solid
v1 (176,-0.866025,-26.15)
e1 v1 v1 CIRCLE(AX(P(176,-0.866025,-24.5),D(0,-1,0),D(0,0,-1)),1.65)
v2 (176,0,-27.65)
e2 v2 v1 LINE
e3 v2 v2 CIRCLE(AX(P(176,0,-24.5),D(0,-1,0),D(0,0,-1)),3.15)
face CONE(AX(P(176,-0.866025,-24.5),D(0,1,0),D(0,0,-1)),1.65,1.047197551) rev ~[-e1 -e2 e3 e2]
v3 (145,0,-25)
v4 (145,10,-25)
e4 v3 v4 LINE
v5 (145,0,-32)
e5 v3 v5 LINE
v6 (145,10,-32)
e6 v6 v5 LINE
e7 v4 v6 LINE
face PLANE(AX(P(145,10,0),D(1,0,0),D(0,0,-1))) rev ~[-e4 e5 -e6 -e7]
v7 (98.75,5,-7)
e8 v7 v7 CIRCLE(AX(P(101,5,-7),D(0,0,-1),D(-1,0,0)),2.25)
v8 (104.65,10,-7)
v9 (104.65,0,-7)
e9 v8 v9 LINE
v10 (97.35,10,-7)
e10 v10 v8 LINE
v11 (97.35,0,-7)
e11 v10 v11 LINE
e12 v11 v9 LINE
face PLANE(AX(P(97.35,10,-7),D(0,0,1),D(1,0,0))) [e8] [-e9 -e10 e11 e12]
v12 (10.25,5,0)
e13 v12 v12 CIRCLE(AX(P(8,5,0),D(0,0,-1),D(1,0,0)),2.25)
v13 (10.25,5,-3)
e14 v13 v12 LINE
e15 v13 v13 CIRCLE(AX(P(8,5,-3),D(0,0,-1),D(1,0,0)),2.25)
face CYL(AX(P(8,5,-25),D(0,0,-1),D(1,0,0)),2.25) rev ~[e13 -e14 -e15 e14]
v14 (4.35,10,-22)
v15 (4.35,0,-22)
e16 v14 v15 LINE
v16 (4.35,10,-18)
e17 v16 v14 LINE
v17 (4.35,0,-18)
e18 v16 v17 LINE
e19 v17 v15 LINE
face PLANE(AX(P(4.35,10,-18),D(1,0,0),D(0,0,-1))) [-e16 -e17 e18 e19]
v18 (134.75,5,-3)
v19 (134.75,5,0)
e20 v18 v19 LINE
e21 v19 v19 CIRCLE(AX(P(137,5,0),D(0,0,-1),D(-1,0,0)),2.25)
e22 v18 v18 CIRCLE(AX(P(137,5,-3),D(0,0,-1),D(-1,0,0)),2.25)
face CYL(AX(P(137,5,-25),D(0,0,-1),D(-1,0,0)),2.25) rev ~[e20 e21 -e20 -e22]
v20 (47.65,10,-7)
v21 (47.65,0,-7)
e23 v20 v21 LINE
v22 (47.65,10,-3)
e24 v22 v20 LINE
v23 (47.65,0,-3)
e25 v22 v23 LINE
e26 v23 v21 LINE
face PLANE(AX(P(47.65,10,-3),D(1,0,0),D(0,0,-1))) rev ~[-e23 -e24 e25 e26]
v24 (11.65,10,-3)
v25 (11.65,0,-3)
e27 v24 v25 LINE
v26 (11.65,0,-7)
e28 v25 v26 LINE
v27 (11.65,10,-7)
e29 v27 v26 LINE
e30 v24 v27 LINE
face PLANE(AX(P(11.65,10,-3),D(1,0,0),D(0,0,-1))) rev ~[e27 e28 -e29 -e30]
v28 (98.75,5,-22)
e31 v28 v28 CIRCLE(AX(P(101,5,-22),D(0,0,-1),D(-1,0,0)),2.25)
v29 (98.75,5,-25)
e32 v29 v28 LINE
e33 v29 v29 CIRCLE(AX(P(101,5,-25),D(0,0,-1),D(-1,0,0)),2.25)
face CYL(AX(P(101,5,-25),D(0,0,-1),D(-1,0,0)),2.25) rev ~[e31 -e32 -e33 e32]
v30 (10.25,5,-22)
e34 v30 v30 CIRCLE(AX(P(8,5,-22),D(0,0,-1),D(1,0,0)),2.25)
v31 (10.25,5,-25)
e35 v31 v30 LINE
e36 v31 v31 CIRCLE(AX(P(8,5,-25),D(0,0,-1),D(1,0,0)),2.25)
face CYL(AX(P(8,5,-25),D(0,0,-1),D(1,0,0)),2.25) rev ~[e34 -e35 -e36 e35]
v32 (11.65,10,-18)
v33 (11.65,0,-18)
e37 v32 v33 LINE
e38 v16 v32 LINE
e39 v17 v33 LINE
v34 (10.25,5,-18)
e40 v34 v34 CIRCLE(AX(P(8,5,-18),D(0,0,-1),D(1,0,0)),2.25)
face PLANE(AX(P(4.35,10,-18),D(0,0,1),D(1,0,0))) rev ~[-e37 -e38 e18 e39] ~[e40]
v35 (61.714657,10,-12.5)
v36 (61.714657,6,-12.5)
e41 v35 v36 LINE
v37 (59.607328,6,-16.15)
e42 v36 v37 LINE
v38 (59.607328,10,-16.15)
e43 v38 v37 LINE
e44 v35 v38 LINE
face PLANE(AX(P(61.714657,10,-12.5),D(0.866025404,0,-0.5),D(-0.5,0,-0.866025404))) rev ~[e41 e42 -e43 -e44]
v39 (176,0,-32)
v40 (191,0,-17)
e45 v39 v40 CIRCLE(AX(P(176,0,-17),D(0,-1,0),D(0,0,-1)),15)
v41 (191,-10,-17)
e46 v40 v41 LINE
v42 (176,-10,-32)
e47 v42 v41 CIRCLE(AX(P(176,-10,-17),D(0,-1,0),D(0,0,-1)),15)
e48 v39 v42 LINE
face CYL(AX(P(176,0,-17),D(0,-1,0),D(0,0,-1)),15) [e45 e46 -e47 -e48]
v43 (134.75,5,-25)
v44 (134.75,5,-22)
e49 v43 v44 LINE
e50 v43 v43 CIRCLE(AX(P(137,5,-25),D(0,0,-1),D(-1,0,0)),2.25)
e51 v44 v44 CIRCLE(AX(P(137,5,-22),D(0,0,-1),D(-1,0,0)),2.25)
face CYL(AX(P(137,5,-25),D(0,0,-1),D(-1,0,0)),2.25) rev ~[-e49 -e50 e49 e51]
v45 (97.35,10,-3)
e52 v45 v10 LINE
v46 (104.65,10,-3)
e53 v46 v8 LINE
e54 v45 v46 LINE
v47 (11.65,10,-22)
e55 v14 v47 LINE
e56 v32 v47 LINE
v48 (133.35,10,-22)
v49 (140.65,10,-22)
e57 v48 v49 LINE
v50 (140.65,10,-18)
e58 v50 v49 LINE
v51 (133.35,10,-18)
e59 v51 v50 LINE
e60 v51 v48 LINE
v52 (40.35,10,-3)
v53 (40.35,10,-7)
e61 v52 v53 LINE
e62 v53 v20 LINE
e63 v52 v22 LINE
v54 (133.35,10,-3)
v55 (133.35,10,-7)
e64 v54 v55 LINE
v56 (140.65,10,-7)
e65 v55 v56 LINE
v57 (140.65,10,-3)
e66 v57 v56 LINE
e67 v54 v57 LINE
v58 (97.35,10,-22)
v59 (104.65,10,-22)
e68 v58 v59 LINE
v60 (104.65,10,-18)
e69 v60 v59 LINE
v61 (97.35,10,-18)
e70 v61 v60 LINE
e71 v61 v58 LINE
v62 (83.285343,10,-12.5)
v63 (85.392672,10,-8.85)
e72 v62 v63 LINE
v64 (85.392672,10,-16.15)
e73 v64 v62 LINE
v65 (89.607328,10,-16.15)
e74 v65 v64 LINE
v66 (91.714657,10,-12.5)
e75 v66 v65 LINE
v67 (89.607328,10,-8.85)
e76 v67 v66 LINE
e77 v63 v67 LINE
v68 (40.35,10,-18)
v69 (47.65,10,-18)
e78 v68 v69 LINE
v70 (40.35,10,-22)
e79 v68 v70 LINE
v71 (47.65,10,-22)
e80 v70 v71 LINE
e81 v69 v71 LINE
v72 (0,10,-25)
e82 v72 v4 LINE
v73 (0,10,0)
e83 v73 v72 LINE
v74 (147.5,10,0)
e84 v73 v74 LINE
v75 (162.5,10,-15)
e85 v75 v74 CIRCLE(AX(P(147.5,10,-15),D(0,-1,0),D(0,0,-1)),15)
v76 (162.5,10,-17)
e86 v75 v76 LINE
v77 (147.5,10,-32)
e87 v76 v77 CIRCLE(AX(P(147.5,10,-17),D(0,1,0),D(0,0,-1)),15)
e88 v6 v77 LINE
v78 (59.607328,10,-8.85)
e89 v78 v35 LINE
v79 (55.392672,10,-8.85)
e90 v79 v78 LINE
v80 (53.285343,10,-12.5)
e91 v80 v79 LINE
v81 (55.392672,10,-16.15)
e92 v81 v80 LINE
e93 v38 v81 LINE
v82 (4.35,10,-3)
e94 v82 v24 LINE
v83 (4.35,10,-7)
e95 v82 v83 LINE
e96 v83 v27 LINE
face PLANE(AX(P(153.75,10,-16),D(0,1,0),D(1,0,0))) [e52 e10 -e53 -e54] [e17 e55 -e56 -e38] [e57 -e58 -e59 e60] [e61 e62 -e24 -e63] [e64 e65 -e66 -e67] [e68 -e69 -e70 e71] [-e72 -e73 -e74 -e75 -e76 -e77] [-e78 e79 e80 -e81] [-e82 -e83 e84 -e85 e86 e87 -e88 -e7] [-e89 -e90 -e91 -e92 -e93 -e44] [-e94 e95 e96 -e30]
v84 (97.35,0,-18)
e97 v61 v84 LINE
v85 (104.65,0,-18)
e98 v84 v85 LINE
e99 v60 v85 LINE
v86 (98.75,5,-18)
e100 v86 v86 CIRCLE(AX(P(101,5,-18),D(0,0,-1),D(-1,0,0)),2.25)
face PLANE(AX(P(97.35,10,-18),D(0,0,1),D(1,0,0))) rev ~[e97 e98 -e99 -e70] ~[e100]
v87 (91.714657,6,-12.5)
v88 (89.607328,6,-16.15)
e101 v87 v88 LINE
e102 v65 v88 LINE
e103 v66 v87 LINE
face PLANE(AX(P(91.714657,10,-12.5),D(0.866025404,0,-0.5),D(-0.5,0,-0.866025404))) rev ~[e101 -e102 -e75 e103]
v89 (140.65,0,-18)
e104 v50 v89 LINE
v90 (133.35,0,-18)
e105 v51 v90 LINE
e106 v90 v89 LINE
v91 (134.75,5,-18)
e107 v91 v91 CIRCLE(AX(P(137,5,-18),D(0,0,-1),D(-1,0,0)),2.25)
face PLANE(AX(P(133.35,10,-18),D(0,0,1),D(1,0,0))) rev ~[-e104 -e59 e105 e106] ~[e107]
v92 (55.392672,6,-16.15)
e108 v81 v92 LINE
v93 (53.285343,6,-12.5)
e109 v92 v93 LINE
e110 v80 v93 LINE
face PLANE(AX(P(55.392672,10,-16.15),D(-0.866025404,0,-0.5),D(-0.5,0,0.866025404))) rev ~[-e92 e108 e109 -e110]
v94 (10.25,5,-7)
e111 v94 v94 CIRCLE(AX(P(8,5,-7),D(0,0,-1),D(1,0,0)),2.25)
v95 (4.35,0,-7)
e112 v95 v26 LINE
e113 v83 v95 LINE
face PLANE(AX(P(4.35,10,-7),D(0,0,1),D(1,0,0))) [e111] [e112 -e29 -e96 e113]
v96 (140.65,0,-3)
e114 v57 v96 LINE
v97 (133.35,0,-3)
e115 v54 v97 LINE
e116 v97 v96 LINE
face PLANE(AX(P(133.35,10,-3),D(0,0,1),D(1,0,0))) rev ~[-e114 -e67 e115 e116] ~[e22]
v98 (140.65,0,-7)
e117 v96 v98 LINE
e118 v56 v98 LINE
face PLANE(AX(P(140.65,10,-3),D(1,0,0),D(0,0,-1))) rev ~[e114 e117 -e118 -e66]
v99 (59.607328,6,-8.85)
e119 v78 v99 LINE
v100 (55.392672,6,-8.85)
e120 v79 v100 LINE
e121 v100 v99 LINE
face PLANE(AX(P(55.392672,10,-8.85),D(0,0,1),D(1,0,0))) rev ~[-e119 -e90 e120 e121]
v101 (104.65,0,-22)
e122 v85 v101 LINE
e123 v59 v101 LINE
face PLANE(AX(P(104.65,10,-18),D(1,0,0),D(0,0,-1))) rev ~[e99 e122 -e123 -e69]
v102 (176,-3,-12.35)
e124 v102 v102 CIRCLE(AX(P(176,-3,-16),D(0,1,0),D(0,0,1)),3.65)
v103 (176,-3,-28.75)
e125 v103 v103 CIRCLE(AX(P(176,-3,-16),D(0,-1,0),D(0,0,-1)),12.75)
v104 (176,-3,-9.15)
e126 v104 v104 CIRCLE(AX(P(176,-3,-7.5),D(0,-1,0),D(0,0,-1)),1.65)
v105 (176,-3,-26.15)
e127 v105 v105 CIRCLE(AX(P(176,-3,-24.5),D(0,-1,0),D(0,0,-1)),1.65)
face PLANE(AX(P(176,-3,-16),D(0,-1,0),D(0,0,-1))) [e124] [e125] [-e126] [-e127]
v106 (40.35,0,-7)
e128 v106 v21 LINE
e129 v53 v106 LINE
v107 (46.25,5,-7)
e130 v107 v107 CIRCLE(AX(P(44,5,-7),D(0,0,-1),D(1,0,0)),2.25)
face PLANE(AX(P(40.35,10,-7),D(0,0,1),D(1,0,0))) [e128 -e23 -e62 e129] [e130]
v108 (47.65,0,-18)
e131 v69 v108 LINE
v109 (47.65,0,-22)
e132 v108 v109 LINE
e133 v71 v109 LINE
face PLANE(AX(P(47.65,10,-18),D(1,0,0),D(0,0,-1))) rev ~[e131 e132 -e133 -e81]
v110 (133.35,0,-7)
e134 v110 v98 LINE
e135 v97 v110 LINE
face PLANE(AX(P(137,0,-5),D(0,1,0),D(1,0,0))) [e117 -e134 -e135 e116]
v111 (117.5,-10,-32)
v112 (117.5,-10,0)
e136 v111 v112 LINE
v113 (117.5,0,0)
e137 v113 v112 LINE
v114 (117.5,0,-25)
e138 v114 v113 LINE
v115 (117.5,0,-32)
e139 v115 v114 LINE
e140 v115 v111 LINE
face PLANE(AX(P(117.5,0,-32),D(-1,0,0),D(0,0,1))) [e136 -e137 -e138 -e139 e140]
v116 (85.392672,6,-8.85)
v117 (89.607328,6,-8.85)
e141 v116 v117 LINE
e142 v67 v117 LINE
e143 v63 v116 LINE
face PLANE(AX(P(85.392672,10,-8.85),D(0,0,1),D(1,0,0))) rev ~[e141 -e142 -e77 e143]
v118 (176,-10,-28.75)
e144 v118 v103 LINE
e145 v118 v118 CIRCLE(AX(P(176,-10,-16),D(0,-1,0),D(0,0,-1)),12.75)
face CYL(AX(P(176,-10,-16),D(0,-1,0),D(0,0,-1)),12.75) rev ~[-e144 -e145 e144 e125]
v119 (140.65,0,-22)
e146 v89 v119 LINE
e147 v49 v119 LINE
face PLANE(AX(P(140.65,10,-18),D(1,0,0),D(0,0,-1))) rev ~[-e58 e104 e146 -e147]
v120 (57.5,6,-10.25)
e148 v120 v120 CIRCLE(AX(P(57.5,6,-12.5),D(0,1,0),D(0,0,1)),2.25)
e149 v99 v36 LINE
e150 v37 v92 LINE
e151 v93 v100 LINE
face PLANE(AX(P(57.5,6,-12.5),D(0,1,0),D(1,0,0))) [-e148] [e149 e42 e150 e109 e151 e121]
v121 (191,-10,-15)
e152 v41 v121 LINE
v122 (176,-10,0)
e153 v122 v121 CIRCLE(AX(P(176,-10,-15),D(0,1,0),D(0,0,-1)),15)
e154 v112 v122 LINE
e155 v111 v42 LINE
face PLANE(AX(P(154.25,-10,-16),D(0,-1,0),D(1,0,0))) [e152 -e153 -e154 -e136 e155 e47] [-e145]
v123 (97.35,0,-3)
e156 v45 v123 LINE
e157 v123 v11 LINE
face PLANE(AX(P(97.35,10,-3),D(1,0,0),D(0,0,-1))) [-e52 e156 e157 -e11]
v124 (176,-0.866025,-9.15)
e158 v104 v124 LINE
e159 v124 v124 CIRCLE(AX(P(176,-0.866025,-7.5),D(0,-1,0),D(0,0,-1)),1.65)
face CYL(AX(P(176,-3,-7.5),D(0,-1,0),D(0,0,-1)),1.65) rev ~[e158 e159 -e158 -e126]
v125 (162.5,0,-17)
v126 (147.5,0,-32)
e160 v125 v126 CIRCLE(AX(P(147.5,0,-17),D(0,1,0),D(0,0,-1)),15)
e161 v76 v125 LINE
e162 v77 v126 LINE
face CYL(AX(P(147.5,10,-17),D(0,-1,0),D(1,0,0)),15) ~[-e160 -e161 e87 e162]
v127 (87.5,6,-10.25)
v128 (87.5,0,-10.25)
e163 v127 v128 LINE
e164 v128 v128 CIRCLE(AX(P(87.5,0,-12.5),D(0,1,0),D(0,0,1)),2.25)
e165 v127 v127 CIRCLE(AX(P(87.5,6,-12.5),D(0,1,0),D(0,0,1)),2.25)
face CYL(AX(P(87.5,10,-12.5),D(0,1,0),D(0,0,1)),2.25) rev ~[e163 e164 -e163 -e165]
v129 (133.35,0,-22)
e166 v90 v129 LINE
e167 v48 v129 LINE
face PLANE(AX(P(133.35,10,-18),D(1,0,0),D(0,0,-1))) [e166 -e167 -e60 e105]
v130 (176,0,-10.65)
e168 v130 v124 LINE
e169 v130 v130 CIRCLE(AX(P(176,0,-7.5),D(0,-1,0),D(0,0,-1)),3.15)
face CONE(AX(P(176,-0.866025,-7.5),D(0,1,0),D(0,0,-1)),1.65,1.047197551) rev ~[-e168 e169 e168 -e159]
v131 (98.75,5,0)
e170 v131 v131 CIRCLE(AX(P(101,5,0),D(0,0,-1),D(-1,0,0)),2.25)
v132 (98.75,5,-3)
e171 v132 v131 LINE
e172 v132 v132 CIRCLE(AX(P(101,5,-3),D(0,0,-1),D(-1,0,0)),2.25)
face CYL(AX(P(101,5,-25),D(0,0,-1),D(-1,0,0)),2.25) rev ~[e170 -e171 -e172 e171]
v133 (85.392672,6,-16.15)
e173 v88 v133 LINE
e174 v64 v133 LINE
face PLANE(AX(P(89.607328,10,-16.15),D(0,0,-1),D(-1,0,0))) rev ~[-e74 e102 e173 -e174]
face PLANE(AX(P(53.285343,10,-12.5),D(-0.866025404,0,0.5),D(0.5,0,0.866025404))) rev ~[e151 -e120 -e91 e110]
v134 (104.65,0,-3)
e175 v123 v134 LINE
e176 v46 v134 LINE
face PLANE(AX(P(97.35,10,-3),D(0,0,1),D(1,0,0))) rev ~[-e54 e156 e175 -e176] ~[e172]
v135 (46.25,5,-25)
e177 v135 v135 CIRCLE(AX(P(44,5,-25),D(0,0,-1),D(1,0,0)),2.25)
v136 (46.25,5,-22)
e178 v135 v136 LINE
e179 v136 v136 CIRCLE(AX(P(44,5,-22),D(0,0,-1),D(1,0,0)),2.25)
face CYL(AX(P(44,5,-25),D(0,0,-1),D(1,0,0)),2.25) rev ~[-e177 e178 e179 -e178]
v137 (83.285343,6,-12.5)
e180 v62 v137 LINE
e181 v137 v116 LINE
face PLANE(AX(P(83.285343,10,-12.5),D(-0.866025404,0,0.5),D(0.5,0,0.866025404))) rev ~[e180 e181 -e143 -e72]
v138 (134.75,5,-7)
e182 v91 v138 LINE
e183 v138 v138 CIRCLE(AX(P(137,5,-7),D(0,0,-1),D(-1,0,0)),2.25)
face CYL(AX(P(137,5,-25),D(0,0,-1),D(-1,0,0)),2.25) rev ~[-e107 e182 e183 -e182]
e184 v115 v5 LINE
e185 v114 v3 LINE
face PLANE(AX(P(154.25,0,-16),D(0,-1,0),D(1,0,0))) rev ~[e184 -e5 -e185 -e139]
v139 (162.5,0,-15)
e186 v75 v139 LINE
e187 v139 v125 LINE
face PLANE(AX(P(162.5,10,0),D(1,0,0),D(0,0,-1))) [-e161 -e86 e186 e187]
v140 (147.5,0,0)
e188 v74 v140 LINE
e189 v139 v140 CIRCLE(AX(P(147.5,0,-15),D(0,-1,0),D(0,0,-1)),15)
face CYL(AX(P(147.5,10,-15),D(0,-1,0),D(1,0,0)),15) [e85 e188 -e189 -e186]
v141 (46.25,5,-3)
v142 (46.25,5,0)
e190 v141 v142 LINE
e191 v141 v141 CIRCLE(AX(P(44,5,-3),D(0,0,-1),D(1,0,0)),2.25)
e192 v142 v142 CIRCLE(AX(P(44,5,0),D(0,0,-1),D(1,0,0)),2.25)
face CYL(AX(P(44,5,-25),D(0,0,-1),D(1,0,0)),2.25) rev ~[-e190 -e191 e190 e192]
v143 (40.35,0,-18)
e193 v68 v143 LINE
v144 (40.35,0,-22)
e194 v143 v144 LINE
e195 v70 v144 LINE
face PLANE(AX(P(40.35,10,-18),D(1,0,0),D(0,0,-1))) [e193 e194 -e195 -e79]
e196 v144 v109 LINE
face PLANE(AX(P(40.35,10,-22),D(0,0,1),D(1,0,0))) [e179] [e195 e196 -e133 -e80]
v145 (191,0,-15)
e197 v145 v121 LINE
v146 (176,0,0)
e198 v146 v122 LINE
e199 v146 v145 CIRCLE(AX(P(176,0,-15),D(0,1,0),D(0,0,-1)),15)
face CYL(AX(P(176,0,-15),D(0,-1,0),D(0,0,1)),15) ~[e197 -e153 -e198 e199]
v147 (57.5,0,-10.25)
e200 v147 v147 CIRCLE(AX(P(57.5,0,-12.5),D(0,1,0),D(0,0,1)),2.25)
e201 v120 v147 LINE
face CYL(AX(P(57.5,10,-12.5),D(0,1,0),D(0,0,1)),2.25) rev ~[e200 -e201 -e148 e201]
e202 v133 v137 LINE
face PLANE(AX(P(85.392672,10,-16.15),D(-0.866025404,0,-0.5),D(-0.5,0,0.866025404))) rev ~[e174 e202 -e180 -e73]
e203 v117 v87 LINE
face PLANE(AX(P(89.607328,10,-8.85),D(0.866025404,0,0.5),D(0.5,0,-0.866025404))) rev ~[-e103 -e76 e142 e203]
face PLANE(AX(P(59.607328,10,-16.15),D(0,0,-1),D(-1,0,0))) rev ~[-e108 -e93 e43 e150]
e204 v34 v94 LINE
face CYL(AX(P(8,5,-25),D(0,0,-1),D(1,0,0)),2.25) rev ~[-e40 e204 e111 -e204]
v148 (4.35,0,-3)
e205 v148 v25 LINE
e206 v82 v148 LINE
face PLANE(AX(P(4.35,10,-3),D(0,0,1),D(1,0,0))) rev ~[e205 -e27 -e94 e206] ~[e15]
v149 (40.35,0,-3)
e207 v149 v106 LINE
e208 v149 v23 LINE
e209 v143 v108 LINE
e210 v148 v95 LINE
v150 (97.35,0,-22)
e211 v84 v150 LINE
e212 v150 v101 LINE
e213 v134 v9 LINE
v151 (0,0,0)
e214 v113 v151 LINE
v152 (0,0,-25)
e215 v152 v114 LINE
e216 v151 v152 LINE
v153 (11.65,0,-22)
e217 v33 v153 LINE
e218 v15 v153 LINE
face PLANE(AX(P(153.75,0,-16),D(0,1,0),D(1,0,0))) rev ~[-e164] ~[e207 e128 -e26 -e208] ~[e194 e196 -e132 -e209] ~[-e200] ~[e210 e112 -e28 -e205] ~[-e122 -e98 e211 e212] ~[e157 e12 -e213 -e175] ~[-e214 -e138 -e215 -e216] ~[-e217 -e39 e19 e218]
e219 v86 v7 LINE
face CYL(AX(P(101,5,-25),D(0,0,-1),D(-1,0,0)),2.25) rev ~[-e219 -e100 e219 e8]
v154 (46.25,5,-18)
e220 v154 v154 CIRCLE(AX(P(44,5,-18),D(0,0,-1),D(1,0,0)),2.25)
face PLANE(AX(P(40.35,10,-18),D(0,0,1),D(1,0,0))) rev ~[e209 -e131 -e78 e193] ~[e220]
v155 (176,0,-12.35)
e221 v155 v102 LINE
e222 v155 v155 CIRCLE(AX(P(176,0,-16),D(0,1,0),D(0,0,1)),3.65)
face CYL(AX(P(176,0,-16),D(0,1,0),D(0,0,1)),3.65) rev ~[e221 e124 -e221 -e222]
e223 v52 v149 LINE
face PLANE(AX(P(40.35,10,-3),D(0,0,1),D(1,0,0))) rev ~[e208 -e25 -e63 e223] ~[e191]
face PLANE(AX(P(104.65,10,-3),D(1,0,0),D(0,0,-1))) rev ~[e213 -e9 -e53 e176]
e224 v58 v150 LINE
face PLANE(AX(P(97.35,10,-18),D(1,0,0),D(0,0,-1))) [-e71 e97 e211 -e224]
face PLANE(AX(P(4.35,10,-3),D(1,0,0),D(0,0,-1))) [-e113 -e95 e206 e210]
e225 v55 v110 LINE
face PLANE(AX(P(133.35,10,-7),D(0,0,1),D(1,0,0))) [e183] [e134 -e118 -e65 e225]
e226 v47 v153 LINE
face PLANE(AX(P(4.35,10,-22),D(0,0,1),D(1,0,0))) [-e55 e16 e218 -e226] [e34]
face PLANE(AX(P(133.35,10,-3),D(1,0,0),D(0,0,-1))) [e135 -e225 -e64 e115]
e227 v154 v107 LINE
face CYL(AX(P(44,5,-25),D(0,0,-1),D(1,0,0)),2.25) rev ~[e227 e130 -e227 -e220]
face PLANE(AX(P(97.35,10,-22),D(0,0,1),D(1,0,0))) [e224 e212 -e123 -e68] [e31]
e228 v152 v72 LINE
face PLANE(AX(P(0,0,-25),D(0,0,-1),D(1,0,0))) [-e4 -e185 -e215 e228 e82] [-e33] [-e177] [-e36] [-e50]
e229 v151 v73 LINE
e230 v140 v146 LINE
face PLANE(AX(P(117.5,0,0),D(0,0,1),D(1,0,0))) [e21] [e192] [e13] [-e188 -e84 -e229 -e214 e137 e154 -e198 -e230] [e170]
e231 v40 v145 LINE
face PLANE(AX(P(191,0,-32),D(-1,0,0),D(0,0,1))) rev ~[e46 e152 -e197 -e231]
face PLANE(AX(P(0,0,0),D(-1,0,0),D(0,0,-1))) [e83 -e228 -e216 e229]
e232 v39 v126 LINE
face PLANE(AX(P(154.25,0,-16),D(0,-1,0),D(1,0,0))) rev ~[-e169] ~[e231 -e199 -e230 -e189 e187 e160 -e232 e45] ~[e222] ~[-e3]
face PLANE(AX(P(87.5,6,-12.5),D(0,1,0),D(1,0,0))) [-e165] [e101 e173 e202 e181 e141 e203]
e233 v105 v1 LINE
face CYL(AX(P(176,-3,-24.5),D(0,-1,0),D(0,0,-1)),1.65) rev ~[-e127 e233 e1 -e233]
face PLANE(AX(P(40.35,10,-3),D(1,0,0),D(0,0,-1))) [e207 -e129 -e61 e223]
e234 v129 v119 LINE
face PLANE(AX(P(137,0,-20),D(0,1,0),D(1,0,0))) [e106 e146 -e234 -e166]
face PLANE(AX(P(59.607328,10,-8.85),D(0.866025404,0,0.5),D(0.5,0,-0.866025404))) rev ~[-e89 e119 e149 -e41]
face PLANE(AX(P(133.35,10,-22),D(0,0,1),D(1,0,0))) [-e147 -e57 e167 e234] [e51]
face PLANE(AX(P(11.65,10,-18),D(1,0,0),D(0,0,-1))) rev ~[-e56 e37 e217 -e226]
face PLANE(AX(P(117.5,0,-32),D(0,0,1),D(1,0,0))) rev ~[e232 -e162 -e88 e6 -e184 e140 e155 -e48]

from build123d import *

# Parameters (mm, degrees)
SKETCH1_W           = 145
SKETCH1_H           = 25
BOSS_EXTRUDE1_DEPTH = 10
SKETCH2_W           = 17.5
SKETCH2_H           = 32
BOSS_EXTRUDE2_DEPTH = 10
SKETCH4_W           = 73.5
SKETCH4_H           = 32
BOSS_EXTRUDE3_DEPTH = 10
SKETCH8_R           = 2.25
CUT_EXTRUDE5_DEPTH  = 193.888568868
SKETCH9_W           = 7.3
SKETCH9_H           = 4
CUT_EXTRUDE6_DEPTH  = 10
CUT_EXTRUDE7_REACH  = 195.92
SKETCH10_R          = 3.65
SKETCH11_R          = 12.75
CUT_EXTRUDE8_DEPTH  = 7
CUT_EXTRUDE11_REACH = 196.098
SKETCH14_R          = 1.65
CHAMFER1_SIZE       = 1.5
CHAMFER1_SIZE2      = 0.866025404
FILLET1_R           = 15
SKETCH15_R          = 2.25
CUT_EXTRUDE12_DEPTH = 195.692064553
CUT_EXTRUDE13_DEPTH = 4


with BuildPart() as part:
    # Sketch1 → Boss-Extrude1 (new body)
    with BuildSketch(Plane(origin=(0, 0, 0), x_dir=(1, 0, 0), z_dir=(0, 1, 0))):
        with Locations((72.5, 12.5)):
            Rectangle(SKETCH1_W, SKETCH1_H)
    extrude(amount=BOSS_EXTRUDE1_DEPTH)

    # Sketch2 → Boss-Extrude2 (add)
    with BuildSketch(Plane(origin=(0, 10, 0), x_dir=(1, 0, 0), z_dir=(0, 1, 0))):
        with Locations((153.75, 16)):
            Rectangle(SKETCH2_W, SKETCH2_H)
    extrude(amount=-BOSS_EXTRUDE2_DEPTH)

    # Sketch4 → Boss-Extrude3 (add)
    with BuildSketch(Plane.XZ):
        with Locations((154.25, -16)):
            Rectangle(SKETCH4_W, SKETCH4_H)
    extrude(amount=BOSS_EXTRUDE3_DEPTH)

    # Sketch8 → Cut-Extrude5 (cut, through all)
    with BuildSketch(Plane(origin=(0, 0, -25), x_dir=(-1, 0, 0), z_dir=(0, 0, -1))):
        with Locations((-137, 5)):
            Circle(SKETCH8_R)
        with Locations((-101, 5)):
            Circle(SKETCH8_R)
        with Locations(Location((-44, 5, 0), (0, 0, 180))):
            Circle(SKETCH8_R)
        with Locations(Location((-8, 5, 0), (0, 0, 180))):
            Circle(SKETCH8_R)
    extrude(amount=-CUT_EXTRUDE5_DEPTH, mode=Mode.SUBTRACT)

    # Sketch9 → Cut-Extrude6 (cut)
    with BuildSketch(Plane(origin=(0, 10, 0), x_dir=(1, 0, 0), z_dir=(0, 1, 0))):
        with Locations((137, 20)):
            Rectangle(SKETCH9_W, SKETCH9_H)
        with Locations((137, 5)):
            Rectangle(SKETCH9_W, SKETCH9_H)
        with Locations((101, 5)):
            Rectangle(SKETCH9_W, SKETCH9_H)
        with Locations((101, 20)):
            Rectangle(SKETCH9_W, SKETCH9_H)
        with Locations((8, 20)):
            Rectangle(SKETCH9_W, SKETCH9_H)
        with Locations((44, 20)):
            Rectangle(SKETCH9_W, SKETCH9_H)
        with Locations((44, 5)):
            Rectangle(SKETCH9_W, SKETCH9_H)
        with Locations((8, 5)):
            Rectangle(SKETCH9_W, SKETCH9_H)
    extrude(amount=-CUT_EXTRUDE6_DEPTH, mode=Mode.SUBTRACT)

    # Sketch10 → Cut-Extrude7 (cut, up to next)
    with BuildSketch(Plane(origin=(0, 0, 0), x_dir=(1, 0, 0), z_dir=(0, 1, 0)), mode=Mode.PRIVATE) as cut_extrude7_sk1:
        with Locations(Location((176, 16, 0), (0, 0, 270))):
            Circle(SKETCH10_R)
    cut_extrude7_tool1 = extrude(cut_extrude7_sk1.sketch, amount=-CUT_EXTRUDE7_REACH, mode=Mode.PRIVATE) & part.part
    add(cut_extrude7_tool1.solids().sort_by_distance((176, 0, -16))[0], mode=Mode.SUBTRACT)

    # Sketch11 → Cut-Extrude8 (cut)
    with BuildSketch(Plane.XZ.offset(10)):
        with Locations(Location((176, -16, 0), (0, 0, 270))):
            Circle(SKETCH11_R)
    extrude(amount=-CUT_EXTRUDE8_DEPTH, mode=Mode.SUBTRACT)

    # Sketch14 → Cut-Extrude11 (cut, up to next)
    with BuildSketch(Plane.XZ.offset(3), mode=Mode.PRIVATE) as cut_extrude11_sk1:
        with Locations(Location((176, -7.5, 0), (0, 0, 270))):
            Circle(SKETCH14_R)
    cut_extrude11_tool1 = extrude(cut_extrude11_sk1.sketch, amount=-CUT_EXTRUDE11_REACH, mode=Mode.PRIVATE) & part.part
    # Sketch14 → Cut-Extrude11 (cut, up to next)
    with BuildSketch(Plane.XZ.offset(3), mode=Mode.PRIVATE) as cut_extrude11_sk2:
        with Locations(Location((176, -24.5, 0), (0, 0, 270))):
            Circle(SKETCH14_R)
    cut_extrude11_tool2 = extrude(cut_extrude11_sk2.sketch, amount=-CUT_EXTRUDE11_REACH, mode=Mode.PRIVATE) & part.part
    add(cut_extrude11_tool1.solids().sort_by_distance((176, -3, -7.5))[0], mode=Mode.SUBTRACT)
    add(cut_extrude11_tool2.solids().sort_by_distance((176, -3, -24.5))[0], mode=Mode.SUBTRACT)

    # Chamfer1
    chamfer1_edges = [part.edges().sort_by_distance(p)[0] for p in [
        (176, 0, -5.85),
        (176, 0, -22.85),
    ]]
    chamfer1_side = [part.faces().sort_by_distance(p)[0] for p in [
        (162.928514877, 0, -16),
    ]]
    chamfer(chamfer1_edges, length=CHAMFER1_SIZE, length2=CHAMFER1_SIZE2, reference=chamfer1_side[0])

    # Fillet1
    fillet1_edges = [part.edges().sort_by_distance(p)[0] for p in [
        (162.5, 5, -32),
        (162.5, 5, 0),
        (191, -5, -32),
        (191, -5, 0),
    ]]
    fillet(fillet1_edges, radius=FILLET1_R)

    # Sketch15 → Cut-Extrude12 (cut, through all)
    with BuildSketch(Plane(origin=(0, 10, 0), x_dir=(1, 0, 0), z_dir=(0, 1, 0))):
        with Locations(Location((57.5, 12.5, 0), (0, 0, 270))):
            Circle(SKETCH15_R)
        with Locations(Location((87.5, 12.5, 0), (0, 0, 270))):
            Circle(SKETCH15_R)
    extrude(amount=-CUT_EXTRUDE12_DEPTH, mode=Mode.SUBTRACT)

    # Sketch16 → Cut-Extrude13 (cut)
    with BuildSketch(Plane(origin=(0, 10, 0), x_dir=(1, 0, 0), z_dir=(0, 1, 0))):
        Polygon((91.714656965, 12.5), (89.607328483, 16.15), (85.392671517, 16.15), (83.285343035, 12.5), (85.392671517, 8.85), (89.607328483, 8.85), align=None)
        Polygon((61.714656965, 12.5), (59.607328483, 16.15), (55.392671517, 16.15), (53.285343035, 12.5), (55.392671517, 8.85), (59.607328483, 8.85), align=None)
    extrude(amount=-CUT_EXTRUDE13_DEPTH, mode=Mode.SUBTRACT)


solid = part.part
